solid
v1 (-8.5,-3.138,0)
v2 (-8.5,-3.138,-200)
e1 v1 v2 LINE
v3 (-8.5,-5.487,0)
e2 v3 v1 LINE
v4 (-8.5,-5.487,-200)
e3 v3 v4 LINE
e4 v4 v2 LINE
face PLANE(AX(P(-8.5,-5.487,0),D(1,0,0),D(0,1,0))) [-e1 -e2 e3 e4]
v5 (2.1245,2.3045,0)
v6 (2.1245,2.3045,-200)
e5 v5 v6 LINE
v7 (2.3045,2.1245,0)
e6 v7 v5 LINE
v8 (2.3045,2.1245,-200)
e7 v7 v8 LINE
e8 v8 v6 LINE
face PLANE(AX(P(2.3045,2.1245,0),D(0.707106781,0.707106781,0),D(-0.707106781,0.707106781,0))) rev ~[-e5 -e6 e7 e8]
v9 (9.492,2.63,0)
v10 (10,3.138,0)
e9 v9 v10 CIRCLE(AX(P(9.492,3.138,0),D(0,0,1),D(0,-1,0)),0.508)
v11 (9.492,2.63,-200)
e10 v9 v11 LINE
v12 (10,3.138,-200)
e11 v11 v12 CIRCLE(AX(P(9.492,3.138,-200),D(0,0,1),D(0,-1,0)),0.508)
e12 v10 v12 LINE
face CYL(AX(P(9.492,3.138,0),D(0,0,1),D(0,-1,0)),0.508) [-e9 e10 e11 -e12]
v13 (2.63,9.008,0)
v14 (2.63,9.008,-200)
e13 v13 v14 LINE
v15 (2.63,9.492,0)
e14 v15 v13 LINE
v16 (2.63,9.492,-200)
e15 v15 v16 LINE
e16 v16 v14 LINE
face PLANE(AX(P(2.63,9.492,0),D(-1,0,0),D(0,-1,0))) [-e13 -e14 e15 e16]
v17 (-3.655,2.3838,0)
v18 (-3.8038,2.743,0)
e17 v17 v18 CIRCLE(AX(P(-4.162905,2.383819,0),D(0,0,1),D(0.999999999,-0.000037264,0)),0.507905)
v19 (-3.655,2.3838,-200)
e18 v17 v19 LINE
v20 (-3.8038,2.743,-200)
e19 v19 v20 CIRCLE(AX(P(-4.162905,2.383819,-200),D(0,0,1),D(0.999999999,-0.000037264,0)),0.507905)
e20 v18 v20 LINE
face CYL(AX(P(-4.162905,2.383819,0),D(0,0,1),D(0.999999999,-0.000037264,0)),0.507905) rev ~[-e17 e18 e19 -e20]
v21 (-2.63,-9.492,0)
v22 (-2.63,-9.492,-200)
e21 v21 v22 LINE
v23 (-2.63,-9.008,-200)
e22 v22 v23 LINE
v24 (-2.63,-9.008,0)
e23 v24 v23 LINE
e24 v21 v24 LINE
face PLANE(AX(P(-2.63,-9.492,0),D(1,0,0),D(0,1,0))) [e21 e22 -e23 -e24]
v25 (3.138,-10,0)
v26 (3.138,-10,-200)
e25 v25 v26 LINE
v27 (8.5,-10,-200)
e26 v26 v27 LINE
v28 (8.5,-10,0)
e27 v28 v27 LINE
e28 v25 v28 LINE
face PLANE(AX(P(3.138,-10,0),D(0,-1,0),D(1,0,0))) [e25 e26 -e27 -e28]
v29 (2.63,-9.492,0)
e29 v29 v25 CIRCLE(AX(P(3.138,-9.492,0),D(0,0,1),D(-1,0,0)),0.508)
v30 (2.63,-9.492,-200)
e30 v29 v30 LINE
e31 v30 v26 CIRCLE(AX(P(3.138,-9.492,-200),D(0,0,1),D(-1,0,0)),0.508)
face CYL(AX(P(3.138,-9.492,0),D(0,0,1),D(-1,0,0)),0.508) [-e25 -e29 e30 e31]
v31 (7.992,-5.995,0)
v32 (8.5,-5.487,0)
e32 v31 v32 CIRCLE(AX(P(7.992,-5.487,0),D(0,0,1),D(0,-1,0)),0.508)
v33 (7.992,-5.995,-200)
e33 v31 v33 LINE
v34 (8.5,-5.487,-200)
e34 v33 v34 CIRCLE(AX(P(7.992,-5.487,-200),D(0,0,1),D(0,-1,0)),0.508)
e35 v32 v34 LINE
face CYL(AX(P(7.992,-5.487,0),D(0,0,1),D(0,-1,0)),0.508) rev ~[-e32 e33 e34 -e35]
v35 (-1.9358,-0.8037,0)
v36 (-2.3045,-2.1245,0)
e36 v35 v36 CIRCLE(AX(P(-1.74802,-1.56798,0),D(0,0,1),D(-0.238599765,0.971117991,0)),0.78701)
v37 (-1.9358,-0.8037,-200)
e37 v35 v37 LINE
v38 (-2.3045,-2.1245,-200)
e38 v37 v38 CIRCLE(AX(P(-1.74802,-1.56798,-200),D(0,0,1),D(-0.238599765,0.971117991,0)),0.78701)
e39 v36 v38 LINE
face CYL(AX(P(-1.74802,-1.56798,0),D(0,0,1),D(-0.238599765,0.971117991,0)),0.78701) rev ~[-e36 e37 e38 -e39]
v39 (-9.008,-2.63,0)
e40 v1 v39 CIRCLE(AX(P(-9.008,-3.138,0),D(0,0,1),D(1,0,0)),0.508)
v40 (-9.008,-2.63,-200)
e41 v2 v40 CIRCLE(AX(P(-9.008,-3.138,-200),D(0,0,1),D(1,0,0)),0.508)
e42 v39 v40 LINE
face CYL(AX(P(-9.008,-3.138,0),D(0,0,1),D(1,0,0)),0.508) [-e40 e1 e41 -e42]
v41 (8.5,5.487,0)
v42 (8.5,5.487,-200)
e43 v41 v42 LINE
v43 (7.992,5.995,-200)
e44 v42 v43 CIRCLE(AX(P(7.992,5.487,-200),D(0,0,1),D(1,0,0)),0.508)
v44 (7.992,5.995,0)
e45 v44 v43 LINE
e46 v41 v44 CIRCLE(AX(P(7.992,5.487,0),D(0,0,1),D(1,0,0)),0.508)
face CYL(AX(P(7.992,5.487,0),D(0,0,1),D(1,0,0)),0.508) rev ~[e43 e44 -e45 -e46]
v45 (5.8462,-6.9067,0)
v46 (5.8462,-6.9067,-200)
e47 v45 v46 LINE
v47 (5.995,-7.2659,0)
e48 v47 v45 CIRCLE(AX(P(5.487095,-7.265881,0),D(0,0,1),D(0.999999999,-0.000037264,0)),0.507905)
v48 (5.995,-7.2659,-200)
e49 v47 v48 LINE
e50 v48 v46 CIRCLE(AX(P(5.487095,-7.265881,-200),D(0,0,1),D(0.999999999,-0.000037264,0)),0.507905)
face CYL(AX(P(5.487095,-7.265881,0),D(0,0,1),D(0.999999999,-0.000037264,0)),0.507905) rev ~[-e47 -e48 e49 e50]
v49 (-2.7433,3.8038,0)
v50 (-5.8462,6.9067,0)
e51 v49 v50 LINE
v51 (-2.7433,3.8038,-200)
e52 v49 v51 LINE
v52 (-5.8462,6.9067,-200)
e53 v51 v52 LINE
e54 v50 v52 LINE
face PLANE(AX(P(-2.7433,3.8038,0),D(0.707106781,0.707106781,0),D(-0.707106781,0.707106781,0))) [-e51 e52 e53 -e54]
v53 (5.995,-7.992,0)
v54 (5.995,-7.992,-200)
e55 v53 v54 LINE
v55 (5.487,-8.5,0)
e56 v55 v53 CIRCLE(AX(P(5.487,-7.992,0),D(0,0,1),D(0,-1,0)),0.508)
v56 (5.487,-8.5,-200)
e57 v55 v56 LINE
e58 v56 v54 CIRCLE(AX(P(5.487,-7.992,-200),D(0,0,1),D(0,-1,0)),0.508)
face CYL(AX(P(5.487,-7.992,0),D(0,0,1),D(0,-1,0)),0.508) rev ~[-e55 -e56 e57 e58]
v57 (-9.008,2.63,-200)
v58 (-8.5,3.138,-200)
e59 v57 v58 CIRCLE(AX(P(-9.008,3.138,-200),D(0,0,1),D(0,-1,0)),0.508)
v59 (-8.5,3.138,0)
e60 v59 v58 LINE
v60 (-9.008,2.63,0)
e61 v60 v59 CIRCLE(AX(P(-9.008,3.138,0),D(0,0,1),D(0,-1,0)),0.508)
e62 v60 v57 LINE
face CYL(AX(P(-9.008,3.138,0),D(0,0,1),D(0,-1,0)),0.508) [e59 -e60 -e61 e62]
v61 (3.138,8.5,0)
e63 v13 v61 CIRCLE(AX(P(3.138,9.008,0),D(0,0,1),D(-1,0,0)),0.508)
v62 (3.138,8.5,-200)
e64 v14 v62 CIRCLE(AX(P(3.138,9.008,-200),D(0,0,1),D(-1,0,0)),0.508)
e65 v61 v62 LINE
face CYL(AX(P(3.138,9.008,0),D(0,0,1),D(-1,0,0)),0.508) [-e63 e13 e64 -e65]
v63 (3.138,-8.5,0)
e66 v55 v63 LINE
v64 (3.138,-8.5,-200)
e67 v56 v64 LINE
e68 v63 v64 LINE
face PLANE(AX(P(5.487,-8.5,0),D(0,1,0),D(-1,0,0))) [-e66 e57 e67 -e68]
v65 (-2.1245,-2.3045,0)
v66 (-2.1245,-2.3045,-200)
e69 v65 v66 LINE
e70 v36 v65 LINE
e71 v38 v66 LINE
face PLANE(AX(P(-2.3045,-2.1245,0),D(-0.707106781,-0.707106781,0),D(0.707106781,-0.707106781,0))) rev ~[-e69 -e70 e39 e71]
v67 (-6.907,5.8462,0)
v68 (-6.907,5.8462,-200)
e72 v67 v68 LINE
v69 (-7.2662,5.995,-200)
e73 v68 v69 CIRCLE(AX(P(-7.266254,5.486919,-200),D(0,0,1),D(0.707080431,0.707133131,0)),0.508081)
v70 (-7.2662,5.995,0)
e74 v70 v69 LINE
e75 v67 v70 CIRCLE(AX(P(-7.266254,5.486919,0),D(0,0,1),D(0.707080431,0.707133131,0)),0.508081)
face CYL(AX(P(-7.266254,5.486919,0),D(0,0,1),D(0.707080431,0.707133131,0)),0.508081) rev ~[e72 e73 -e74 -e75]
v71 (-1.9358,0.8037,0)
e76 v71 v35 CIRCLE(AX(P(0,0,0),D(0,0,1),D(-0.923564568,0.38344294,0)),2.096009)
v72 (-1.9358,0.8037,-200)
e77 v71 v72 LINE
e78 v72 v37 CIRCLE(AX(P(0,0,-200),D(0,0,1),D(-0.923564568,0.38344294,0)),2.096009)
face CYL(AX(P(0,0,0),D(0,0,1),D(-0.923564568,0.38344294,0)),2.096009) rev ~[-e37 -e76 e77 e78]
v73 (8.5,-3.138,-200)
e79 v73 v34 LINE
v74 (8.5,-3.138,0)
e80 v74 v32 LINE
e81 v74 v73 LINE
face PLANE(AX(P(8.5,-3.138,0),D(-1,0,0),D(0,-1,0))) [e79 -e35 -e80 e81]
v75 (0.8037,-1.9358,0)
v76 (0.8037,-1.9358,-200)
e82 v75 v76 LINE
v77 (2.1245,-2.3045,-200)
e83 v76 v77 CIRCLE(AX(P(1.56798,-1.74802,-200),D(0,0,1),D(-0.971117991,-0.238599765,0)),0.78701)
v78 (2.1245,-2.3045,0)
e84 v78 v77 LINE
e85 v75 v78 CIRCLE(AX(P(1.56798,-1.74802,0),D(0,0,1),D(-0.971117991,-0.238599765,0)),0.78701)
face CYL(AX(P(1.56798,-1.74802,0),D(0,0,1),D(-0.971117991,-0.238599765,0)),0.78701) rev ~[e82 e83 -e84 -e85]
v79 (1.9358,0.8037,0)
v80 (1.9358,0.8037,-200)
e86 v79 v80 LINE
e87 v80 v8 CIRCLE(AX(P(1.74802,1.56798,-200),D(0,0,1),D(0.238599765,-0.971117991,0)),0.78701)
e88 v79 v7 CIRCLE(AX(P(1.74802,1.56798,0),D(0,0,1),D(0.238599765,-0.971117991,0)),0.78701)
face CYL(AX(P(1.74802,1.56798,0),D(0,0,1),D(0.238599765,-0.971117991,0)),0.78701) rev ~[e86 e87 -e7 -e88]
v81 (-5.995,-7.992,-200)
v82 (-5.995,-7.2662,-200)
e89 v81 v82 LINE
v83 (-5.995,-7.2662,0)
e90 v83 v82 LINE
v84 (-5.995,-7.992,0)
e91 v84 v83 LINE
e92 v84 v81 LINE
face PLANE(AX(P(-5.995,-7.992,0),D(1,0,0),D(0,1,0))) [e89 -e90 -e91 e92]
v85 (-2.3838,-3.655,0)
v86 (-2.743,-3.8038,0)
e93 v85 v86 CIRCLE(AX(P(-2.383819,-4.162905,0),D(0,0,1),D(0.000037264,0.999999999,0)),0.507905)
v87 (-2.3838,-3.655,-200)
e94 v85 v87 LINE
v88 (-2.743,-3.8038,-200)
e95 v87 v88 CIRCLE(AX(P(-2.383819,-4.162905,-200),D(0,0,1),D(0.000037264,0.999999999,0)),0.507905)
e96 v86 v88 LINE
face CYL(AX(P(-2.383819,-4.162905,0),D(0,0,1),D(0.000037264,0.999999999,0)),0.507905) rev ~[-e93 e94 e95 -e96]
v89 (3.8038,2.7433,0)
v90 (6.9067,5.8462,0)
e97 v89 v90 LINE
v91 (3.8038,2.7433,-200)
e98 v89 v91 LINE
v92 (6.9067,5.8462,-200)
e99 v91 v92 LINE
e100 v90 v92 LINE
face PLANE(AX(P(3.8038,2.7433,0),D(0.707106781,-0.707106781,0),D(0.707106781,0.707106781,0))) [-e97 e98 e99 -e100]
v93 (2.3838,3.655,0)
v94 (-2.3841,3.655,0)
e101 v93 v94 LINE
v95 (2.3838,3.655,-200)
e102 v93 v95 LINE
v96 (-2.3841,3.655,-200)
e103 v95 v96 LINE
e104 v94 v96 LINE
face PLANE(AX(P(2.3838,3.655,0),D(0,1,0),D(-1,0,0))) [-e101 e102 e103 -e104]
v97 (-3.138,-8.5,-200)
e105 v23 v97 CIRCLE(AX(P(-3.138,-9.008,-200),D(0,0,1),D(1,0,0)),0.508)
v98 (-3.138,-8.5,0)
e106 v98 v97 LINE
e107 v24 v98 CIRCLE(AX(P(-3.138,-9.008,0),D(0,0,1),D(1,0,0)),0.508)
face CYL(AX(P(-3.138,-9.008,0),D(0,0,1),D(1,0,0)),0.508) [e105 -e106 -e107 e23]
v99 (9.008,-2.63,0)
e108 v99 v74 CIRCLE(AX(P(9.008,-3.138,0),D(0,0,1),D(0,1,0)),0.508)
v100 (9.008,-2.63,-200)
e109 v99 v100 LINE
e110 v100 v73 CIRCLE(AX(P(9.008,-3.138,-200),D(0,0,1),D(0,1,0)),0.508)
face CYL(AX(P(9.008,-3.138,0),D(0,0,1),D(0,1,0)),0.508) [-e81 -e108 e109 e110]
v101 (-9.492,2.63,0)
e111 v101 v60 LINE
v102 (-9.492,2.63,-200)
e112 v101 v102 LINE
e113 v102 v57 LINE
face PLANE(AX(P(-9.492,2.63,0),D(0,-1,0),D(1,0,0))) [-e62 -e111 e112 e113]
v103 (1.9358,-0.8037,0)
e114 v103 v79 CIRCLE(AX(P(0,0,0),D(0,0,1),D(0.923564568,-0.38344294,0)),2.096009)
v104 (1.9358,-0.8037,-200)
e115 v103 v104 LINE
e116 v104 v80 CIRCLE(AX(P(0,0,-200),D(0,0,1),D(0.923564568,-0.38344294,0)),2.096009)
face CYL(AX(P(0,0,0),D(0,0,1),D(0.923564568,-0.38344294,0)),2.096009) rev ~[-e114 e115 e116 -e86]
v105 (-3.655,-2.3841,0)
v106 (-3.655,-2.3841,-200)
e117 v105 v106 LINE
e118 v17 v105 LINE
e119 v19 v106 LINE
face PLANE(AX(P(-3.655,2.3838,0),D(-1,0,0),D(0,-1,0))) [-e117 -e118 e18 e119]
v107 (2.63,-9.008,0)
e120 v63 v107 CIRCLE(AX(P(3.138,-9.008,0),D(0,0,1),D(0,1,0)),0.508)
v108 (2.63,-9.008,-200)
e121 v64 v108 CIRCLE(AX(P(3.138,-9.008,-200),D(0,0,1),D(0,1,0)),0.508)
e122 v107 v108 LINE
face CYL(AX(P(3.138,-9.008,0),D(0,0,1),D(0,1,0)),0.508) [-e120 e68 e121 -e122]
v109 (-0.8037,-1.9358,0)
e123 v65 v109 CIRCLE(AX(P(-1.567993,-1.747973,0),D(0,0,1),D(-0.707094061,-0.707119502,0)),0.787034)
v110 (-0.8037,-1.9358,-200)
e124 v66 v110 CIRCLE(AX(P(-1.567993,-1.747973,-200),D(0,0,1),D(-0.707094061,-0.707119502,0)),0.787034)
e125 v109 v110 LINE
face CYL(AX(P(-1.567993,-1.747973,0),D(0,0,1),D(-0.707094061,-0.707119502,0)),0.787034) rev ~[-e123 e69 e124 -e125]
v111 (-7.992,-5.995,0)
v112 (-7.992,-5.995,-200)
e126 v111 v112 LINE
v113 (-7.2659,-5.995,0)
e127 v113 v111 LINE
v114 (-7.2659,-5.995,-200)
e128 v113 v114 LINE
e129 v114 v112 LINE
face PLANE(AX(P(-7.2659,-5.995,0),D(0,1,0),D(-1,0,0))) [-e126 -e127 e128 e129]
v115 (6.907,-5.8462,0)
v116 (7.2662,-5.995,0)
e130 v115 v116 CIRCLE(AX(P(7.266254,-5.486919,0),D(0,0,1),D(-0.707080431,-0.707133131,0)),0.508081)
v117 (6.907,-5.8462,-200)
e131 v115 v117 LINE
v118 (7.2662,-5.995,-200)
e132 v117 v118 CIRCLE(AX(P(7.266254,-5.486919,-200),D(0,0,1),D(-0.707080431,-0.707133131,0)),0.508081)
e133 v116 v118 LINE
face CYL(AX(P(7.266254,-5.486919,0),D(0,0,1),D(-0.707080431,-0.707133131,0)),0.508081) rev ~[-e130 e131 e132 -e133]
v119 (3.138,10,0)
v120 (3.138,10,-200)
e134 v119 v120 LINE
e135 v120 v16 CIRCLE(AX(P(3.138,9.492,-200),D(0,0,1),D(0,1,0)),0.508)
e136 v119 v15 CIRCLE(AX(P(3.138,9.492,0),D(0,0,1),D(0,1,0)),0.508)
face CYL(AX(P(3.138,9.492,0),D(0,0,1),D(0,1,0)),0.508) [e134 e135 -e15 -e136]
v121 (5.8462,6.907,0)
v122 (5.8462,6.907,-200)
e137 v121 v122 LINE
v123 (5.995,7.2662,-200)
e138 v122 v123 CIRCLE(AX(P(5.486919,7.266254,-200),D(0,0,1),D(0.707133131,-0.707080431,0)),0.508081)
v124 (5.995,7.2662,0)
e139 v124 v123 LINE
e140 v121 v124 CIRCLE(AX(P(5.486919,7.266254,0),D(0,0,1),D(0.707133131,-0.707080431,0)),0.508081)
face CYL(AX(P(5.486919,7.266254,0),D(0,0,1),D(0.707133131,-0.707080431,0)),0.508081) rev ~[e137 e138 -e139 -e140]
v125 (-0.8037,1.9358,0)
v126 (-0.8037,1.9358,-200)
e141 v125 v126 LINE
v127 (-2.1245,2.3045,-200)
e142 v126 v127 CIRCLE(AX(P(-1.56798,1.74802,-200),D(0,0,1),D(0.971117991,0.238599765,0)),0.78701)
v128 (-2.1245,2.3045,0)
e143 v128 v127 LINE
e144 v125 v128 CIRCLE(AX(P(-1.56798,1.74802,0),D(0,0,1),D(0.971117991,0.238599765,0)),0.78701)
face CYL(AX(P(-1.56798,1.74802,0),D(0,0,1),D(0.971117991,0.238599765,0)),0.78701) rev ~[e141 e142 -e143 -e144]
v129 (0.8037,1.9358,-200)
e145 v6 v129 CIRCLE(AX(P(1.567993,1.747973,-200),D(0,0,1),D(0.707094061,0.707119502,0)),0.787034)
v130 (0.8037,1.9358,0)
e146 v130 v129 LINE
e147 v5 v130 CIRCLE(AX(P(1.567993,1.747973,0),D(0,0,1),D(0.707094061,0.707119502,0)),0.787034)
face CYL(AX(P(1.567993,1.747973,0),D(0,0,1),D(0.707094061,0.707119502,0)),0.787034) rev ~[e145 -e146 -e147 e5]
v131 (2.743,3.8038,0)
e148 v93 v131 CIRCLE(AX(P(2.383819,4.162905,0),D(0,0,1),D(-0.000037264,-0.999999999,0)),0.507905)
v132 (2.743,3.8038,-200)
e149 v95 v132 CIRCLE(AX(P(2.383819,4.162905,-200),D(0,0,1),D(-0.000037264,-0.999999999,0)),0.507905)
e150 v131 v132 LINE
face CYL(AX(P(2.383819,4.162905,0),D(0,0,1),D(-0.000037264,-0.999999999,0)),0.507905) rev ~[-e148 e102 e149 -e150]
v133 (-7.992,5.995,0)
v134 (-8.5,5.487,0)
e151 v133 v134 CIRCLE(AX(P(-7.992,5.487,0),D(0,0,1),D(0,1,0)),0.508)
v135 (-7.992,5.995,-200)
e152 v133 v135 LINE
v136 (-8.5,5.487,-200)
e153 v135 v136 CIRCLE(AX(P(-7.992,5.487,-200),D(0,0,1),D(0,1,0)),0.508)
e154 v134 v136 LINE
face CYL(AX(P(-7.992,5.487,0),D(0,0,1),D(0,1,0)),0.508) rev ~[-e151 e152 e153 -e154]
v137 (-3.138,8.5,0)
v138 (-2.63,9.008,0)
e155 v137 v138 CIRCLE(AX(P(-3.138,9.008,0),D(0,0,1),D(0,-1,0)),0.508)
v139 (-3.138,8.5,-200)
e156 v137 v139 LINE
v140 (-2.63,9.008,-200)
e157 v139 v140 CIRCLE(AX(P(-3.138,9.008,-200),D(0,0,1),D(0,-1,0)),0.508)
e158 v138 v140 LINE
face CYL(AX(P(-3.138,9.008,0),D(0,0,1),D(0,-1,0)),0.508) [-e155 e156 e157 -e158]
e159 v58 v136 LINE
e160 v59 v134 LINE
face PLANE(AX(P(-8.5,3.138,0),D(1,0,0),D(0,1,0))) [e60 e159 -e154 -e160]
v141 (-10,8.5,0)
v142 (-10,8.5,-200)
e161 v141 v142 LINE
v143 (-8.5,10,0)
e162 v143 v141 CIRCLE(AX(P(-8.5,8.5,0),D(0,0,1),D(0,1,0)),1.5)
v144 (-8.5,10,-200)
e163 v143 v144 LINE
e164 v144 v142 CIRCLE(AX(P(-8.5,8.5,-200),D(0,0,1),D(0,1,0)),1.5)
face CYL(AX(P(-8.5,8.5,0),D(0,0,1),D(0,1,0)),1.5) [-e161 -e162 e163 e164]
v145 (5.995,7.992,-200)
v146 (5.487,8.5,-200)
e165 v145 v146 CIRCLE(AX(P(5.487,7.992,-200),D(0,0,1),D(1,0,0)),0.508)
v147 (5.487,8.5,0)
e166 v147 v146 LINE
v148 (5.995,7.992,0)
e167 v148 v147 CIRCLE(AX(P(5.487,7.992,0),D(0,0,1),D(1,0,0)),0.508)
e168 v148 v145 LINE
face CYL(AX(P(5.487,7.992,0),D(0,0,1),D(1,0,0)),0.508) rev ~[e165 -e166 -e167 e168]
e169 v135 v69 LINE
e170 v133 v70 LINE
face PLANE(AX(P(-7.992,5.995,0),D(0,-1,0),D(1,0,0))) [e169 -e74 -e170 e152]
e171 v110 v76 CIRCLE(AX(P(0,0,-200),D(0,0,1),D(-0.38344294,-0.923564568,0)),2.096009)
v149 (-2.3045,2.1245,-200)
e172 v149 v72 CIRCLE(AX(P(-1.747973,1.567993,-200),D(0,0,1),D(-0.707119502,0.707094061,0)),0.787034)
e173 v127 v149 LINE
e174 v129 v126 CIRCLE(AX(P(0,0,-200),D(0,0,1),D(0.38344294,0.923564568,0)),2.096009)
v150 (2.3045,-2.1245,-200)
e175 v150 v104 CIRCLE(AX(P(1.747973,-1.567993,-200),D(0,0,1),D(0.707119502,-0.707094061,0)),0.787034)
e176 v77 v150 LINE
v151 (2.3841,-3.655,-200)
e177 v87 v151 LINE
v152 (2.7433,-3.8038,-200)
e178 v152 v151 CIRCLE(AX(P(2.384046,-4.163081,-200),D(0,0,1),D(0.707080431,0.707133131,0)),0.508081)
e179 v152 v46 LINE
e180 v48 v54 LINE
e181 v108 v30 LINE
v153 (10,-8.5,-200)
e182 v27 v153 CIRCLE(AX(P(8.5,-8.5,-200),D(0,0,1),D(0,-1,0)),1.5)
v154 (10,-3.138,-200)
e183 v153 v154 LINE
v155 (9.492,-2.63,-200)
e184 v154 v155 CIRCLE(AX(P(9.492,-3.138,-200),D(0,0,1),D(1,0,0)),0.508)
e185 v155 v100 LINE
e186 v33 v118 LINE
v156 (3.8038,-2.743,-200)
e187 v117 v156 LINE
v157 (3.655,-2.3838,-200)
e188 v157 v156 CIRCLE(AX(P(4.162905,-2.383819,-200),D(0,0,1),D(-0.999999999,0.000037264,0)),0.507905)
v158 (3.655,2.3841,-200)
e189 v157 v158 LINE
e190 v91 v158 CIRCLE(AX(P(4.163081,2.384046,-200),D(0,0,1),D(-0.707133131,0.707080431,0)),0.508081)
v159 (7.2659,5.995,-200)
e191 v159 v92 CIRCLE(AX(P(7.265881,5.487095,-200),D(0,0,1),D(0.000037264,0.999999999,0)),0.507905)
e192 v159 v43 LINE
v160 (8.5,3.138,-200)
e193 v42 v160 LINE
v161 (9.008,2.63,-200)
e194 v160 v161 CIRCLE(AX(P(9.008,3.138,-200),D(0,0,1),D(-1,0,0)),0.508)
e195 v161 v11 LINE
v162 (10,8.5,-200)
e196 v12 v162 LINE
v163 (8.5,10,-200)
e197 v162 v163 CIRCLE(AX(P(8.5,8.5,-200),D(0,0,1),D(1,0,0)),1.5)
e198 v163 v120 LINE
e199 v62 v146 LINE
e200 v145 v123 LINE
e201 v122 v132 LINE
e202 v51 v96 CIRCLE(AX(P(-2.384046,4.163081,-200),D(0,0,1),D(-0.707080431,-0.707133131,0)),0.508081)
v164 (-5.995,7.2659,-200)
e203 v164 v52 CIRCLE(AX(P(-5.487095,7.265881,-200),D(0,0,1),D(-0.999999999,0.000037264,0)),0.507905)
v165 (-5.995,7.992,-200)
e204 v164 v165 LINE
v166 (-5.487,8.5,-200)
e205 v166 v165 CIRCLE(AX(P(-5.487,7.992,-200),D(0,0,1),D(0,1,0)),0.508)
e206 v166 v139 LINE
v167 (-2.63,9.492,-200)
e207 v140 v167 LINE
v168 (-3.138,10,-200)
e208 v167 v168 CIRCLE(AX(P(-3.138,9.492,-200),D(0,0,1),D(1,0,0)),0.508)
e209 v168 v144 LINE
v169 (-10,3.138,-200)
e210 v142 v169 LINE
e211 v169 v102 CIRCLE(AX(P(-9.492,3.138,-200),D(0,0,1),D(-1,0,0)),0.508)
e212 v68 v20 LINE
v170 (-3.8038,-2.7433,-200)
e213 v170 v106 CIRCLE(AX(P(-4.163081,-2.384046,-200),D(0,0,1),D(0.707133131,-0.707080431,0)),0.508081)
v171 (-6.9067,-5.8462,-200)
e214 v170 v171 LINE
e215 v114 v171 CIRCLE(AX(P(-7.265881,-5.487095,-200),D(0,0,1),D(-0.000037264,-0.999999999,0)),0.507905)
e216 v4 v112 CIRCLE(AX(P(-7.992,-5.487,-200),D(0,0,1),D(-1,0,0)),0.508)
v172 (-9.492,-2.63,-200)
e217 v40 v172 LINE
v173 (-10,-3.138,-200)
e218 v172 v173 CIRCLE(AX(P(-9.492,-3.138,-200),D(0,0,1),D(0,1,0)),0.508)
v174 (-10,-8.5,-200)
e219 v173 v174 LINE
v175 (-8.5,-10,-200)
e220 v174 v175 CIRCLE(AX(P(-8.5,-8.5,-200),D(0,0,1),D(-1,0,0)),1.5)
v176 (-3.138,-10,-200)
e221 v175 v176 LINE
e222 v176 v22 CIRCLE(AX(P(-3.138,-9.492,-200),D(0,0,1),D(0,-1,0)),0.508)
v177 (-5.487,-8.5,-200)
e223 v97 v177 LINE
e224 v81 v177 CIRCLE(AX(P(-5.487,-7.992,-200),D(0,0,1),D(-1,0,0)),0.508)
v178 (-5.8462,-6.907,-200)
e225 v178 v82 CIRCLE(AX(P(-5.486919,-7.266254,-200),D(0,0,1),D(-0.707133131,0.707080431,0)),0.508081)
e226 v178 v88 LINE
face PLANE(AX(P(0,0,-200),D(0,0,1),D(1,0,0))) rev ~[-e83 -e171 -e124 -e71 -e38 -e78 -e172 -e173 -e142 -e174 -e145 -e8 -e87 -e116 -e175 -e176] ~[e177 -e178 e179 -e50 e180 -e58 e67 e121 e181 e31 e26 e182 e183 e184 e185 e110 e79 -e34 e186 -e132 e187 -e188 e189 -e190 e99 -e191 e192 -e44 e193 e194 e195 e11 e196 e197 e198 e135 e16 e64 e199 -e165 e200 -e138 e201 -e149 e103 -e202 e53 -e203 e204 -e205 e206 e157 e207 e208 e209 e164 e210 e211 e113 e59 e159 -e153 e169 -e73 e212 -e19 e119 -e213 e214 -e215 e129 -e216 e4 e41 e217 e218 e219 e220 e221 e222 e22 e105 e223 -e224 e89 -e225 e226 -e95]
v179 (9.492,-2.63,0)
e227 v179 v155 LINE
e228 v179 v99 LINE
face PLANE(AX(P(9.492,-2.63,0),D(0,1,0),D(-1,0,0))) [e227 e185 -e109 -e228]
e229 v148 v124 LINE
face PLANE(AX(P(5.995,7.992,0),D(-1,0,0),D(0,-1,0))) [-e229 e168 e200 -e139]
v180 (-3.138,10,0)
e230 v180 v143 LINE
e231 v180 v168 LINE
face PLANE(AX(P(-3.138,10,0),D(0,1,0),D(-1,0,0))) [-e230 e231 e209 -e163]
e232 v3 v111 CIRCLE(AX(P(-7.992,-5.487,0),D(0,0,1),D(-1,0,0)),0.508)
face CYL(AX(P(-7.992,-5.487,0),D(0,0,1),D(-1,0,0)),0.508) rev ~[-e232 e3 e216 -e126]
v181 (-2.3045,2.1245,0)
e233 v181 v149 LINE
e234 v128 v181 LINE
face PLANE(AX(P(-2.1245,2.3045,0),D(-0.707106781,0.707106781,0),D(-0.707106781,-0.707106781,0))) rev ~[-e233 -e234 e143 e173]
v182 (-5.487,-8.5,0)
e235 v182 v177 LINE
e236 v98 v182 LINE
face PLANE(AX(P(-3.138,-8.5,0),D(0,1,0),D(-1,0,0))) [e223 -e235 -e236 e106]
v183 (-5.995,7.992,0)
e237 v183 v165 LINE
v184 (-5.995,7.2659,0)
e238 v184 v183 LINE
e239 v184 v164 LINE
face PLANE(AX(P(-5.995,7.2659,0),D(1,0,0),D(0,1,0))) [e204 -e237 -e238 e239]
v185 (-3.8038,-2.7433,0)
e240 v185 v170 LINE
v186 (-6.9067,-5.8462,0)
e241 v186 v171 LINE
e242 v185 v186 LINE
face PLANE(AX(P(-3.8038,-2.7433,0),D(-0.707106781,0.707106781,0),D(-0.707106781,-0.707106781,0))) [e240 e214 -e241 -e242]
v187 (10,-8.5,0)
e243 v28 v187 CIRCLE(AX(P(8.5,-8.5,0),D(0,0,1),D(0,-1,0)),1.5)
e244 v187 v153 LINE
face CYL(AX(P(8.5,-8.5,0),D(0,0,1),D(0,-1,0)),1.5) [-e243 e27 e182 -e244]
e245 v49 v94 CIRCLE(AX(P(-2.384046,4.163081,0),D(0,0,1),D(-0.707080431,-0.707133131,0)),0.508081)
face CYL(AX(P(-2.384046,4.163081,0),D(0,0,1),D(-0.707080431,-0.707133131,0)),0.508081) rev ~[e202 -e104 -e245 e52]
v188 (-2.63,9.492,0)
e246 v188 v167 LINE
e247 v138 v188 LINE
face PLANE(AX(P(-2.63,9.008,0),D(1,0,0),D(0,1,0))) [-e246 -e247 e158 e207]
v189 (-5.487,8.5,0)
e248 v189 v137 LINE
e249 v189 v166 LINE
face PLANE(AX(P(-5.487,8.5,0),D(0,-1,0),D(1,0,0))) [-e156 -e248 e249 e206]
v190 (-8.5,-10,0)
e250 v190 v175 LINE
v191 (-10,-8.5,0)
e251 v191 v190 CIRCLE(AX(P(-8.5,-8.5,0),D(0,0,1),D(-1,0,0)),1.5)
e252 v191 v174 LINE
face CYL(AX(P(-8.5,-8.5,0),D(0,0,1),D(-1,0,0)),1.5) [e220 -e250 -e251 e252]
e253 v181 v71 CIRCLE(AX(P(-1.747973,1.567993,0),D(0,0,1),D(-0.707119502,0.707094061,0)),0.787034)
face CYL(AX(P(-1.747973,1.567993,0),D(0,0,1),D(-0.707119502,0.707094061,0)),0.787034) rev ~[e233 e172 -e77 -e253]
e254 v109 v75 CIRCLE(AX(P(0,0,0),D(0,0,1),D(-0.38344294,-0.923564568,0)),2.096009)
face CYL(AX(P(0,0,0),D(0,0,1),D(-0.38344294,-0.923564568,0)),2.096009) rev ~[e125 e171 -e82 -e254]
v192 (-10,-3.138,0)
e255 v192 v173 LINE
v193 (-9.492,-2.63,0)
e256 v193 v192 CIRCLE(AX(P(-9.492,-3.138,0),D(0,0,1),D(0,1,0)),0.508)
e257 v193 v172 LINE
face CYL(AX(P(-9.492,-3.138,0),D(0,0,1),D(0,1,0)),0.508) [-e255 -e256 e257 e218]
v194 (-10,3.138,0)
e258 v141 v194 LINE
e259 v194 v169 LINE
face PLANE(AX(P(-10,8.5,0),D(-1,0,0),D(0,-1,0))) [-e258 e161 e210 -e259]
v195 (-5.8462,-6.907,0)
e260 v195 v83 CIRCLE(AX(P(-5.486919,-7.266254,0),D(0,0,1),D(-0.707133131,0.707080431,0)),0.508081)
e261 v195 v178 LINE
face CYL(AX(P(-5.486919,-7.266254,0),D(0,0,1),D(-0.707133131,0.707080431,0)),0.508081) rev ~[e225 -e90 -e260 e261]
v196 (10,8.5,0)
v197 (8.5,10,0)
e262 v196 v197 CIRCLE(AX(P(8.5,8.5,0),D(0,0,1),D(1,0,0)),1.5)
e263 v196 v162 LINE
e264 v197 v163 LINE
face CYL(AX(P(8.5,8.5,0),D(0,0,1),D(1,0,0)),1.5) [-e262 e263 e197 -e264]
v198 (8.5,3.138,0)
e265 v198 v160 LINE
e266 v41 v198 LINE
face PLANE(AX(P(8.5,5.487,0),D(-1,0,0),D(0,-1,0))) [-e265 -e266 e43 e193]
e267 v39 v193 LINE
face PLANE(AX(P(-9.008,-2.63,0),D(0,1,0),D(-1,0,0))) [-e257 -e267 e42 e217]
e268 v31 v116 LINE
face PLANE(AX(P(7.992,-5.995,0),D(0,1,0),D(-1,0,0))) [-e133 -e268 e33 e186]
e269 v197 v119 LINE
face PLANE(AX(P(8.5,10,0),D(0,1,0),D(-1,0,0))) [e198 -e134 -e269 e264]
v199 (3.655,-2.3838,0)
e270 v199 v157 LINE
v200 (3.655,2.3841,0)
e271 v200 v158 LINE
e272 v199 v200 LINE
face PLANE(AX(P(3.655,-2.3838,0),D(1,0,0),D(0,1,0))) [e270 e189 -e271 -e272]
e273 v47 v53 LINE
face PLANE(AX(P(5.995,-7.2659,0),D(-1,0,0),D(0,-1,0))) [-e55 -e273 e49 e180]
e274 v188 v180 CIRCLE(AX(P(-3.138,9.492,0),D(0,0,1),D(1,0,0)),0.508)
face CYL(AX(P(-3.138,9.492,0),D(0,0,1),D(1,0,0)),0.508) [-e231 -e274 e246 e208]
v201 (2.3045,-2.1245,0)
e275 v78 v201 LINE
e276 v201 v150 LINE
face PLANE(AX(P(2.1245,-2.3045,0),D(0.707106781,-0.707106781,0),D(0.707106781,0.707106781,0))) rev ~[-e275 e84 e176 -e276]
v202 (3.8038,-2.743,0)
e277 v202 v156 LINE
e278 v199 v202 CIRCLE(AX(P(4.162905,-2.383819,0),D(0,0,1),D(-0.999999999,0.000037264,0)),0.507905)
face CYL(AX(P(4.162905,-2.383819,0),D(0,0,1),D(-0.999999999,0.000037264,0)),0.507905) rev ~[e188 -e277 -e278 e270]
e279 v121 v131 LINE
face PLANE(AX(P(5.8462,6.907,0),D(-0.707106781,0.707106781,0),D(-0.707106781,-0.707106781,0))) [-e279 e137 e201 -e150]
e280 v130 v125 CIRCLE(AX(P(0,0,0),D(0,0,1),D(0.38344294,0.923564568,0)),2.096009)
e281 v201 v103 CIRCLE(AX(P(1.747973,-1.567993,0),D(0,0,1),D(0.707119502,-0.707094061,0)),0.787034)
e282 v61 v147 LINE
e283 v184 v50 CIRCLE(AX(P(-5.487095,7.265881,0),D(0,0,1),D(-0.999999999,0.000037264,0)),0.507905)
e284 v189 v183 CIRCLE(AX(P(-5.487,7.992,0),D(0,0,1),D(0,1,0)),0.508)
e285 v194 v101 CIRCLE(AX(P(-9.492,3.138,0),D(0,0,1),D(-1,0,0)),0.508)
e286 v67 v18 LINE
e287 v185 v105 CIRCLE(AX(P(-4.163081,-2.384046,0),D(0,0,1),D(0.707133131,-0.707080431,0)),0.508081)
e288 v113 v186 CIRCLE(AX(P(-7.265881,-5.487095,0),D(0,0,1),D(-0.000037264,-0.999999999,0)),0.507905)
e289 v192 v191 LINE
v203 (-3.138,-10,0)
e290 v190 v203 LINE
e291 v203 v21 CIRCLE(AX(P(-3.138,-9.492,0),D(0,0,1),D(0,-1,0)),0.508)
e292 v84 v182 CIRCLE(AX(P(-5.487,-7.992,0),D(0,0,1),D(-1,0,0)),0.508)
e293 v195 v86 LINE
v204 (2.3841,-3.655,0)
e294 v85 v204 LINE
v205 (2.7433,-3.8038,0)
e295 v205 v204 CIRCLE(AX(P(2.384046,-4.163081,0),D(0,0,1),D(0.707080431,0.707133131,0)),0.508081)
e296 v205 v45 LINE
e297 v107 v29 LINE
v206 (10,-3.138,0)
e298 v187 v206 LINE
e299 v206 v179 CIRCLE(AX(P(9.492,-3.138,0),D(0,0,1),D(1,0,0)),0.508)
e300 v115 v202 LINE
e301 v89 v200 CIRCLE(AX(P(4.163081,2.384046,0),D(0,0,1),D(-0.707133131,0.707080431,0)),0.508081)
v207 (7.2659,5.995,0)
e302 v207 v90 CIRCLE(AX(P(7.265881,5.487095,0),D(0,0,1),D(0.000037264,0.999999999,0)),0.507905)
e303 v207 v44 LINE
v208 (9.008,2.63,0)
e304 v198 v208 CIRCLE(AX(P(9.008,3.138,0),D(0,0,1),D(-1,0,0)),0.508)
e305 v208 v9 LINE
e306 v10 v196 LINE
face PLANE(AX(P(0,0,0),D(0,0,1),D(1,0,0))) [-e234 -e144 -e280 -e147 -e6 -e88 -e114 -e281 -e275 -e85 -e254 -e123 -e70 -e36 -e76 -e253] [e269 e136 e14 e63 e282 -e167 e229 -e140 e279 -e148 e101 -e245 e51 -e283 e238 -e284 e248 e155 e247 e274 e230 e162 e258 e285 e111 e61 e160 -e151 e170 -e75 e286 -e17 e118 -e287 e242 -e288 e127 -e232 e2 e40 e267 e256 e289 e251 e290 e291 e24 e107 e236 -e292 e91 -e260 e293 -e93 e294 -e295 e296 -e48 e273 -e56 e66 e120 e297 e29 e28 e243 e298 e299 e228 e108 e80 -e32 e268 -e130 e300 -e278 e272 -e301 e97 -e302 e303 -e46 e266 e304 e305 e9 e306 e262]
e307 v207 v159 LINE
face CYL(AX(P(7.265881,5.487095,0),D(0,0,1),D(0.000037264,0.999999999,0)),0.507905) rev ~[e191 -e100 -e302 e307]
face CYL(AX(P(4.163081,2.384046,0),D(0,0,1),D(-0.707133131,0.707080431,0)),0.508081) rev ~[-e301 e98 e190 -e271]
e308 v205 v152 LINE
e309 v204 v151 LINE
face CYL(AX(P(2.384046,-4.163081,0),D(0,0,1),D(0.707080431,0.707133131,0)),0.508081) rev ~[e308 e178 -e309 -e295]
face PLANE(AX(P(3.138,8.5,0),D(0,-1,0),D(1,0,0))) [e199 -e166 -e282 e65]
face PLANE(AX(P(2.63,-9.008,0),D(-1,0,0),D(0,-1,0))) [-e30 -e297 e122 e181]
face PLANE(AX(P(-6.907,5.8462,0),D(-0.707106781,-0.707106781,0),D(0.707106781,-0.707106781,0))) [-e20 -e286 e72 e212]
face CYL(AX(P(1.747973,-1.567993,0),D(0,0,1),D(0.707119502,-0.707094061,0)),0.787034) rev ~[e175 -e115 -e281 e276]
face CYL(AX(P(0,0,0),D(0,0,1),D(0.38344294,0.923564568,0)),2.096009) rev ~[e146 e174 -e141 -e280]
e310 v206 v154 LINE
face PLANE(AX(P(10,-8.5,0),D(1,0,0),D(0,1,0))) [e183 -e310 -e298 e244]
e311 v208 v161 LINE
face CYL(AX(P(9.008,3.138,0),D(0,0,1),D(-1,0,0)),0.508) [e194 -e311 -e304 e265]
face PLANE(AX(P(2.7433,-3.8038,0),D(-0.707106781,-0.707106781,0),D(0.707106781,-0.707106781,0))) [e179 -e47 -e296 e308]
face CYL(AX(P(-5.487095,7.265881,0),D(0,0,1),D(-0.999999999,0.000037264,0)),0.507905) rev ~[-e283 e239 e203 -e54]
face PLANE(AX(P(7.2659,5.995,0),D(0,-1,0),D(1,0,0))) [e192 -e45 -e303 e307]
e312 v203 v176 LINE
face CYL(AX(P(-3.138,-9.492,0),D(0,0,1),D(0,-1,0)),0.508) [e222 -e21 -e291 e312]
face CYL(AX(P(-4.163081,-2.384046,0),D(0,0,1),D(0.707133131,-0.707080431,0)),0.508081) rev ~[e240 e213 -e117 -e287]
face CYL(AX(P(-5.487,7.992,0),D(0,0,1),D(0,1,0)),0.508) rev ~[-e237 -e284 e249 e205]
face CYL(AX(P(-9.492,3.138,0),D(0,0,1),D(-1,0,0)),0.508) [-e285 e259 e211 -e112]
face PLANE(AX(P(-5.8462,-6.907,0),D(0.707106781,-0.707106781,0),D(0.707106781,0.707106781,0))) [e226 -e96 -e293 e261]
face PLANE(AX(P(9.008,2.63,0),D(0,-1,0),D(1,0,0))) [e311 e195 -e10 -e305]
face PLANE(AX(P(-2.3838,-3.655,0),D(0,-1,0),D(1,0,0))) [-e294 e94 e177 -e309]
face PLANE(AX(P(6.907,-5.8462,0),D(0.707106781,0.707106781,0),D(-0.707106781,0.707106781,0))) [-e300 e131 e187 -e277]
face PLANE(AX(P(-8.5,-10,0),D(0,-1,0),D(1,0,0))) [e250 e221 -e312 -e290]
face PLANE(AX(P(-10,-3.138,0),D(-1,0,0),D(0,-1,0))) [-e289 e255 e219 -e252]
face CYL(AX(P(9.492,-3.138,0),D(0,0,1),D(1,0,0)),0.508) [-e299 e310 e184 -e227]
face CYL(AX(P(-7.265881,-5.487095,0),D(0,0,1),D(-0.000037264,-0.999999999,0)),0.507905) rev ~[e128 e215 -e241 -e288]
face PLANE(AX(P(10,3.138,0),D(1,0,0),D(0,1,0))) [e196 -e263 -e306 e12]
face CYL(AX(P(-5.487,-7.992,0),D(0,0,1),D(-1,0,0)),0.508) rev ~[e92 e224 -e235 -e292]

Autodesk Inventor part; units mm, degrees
ref_plane "YZ Plane" through (0, 0, 0) normal (1, 0, 0) x (0, 1, 0)
ref_plane "XZ Plane" through (0, 0, 0) normal (0, 1, 0) x (-1, 0, 0)
ref_plane "XY Plane" through (0, 0, 0) normal (0, 0, 1) x (1, 0, 0)
sketch "Sketch_1" plane through (0, 0, 0) normal (0, 0, 1) x (1, 0, 0)
  arc A0 (-10, -8.5) -> (-8.5, -10) centre (-8.5, -8.5) ccw
  line L0 (-8.5, -10) -> (-3.138, -10)
  arc A1 (-3.138, -10) -> (-2.63, -9.492) centre (-3.138, -9.492) ccw
  line L1 (-2.63, -9.492) -> (-2.63, -9.008)
  arc A2 (-2.63, -9.008) -> (-3.138, -8.5) centre (-3.138, -9.008) ccw
  line L2 (-3.138, -8.5) -> (-5.487, -8.5)
  arc A3 (-5.995, -7.992) -> (-5.487, -8.5) centre (-5.487, -7.992) ccw
  line L3 (-5.995, -7.992) -> (-5.995, -7.2662)
  arc A4 (-5.8462, -6.907) -> (-5.995, -7.2662) centre (-5.487, -7.2662) ccw
  line L4 (-5.8462, -6.907) -> (-2.743, -3.8038)
  arc A5 (-2.3838, -3.655) -> (-2.743, -3.8038) centre (-2.3838, -4.163) ccw
  line L5 (-2.3838, -3.655) -> (2.3841, -3.655)
  arc A6 (2.7433, -3.8038) -> (2.3841, -3.655) centre (2.3841, -4.163) ccw
  line L6 (2.7433, -3.8038) -> (5.8462, -6.9067)
  arc A7 (5.995, -7.2659) -> (5.8462, -6.9067) centre (5.487, -7.2659) ccw
  line L7 (5.995, -7.2659) -> (5.995, -7.992)
  arc A8 (5.487, -8.5) -> (5.995, -7.992) centre (5.487, -7.992) ccw
  line L8 (5.487, -8.5) -> (3.138, -8.5)
  arc A9 (3.138, -8.5) -> (2.63, -9.008) centre (3.138, -9.008) ccw
  line L9 (2.63, -9.008) -> (2.63, -9.492)
  arc A10 (2.63, -9.492) -> (3.138, -10) centre (3.138, -9.492) ccw
  line L10 (3.138, -10) -> (8.5, -10)
  arc A11 (8.5, -10) -> (10, -8.5) centre (8.5, -8.5) ccw
  line L11 (10, -8.5) -> (10, -3.138)
  arc A12 (10, -3.138) -> (9.492, -2.63) centre (9.492, -3.138) ccw
  line L12 (9.492, -2.63) -> (9.008, -2.63)
  arc A13 (9.008, -2.63) -> (8.5, -3.138) centre (9.008, -3.138) ccw
  line L13 (8.5, -3.138) -> (8.5, -5.487)
  arc A14 (7.992, -5.995) -> (8.5, -5.487) centre (7.992, -5.487) ccw
  line L14 (7.992, -5.995) -> (7.2662, -5.995)
  arc A15 (6.907, -5.8462) -> (7.2662, -5.995) centre (7.2662, -5.487) ccw
  line L15 (6.907, -5.8462) -> (3.8038, -2.743)
  arc A16 (3.655, -2.3838) -> (3.8038, -2.743) centre (4.163, -2.3838) ccw
  line L16 (3.655, -2.3838) -> (3.655, 2.3841)
  arc A17 (3.8038, 2.7433) -> (3.655, 2.3841) centre (4.163, 2.3841) ccw
  line L17 (3.8038, 2.7433) -> (6.9067, 5.8462)
  arc A18 (7.2659, 5.995) -> (6.9067, 5.8462) centre (7.2659, 5.487) ccw
  line L18 (7.2659, 5.995) -> (7.992, 5.995)
  arc A19 (8.5, 5.487) -> (7.992, 5.995) centre (7.992, 5.487) ccw
  line L19 (8.5, 5.487) -> (8.5, 3.138)
  arc A20 (8.5, 3.138) -> (9.008, 2.63) centre (9.008, 3.138) ccw
  line L20 (9.008, 2.63) -> (9.492, 2.63)
  arc A21 (9.492, 2.63) -> (10, 3.138) centre (9.492, 3.138) ccw
  line L21 (10, 3.138) -> (10, 8.5)
  arc A22 (10, 8.5) -> (8.5, 10) centre (8.5, 8.5) ccw
  line L22 (8.5, 10) -> (3.138, 10)
  arc A23 (3.138, 10) -> (2.63, 9.492) centre (3.138, 9.492) ccw
  line L23 (2.63, 9.492) -> (2.63, 9.008)
  arc A24 (2.63, 9.008) -> (3.138, 8.5) centre (3.138, 9.008) ccw
  line L24 (3.138, 8.5) -> (5.487, 8.5)
  arc A25 (5.995, 7.992) -> (5.487, 8.5) centre (5.487, 7.992) ccw
  line L25 (5.995, 7.992) -> (5.995, 7.2662)
  arc A26 (5.8462, 6.907) -> (5.995, 7.2662) centre (5.487, 7.2662) ccw
  line L26 (5.8462, 6.907) -> (2.743, 3.8038)
  arc A27 (2.3838, 3.655) -> (2.743, 3.8038) centre (2.3838, 4.163) ccw
  line L27 (2.3838, 3.655) -> (-2.3841, 3.655)
  arc A28 (-2.7433, 3.8038) -> (-2.3841, 3.655) centre (-2.3841, 4.163) ccw
  line L28 (-2.7433, 3.8038) -> (-5.8462, 6.9067)
  arc A29 (-5.995, 7.2659) -> (-5.8462, 6.9067) centre (-5.487, 7.2659) ccw
  line L29 (-5.995, 7.2659) -> (-5.995, 7.992)
  arc A30 (-5.487, 8.5) -> (-5.995, 7.992) centre (-5.487, 7.992) ccw
  line L30 (-5.487, 8.5) -> (-3.138, 8.5)
  arc A31 (-3.138, 8.5) -> (-2.63, 9.008) centre (-3.138, 9.008) ccw
  line L31 (-2.63, 9.008) -> (-2.63, 9.492)
  arc A32 (-2.63, 9.492) -> (-3.138, 10) centre (-3.138, 9.492) ccw
  line L32 (-3.138, 10) -> (-8.5, 10)
  arc A33 (-8.5, 10) -> (-10, 8.5) centre (-8.5, 8.5) ccw
  line L33 (-10, 8.5) -> (-10, 3.138)
  arc A34 (-10, 3.138) -> (-9.492, 2.63) centre (-9.492, 3.138) ccw
  line L34 (-9.492, 2.63) -> (-9.008, 2.63)
  arc A35 (-9.008, 2.63) -> (-8.5, 3.138) centre (-9.008, 3.138) ccw
  line L35 (-8.5, 3.138) -> (-8.5, 5.487)
  arc A36 (-7.992, 5.995) -> (-8.5, 5.487) centre (-7.992, 5.487) ccw
  line L36 (-7.992, 5.995) -> (-7.2662, 5.995)
  arc A37 (-6.907, 5.8462) -> (-7.2662, 5.995) centre (-7.2662, 5.487) ccw
  line L37 (-6.907, 5.8462) -> (-3.8038, 2.743)
  arc A38 (-3.655, 2.3838) -> (-3.8038, 2.743) centre (-4.163, 2.3838) ccw
  line L38 (-3.655, 2.3838) -> (-3.655, -2.3841)
  arc A39 (-3.8038, -2.7433) -> (-3.655, -2.3841) centre (-4.163, -2.3841) ccw
  line L39 (-3.8038, -2.7433) -> (-6.9067, -5.8462)
  arc A40 (-7.2659, -5.995) -> (-6.9067, -5.8462) centre (-7.2659, -5.487) ccw
  line L40 (-7.2659, -5.995) -> (-7.992, -5.995)
  arc A41 (-8.5, -5.487) -> (-7.992, -5.995) centre (-7.992, -5.487) ccw
  line L41 (-8.5, -5.487) -> (-8.5, -3.138)
  arc A42 (-8.5, -3.138) -> (-9.008, -2.63) centre (-9.008, -3.138) ccw
  line L42 (-9.008, -2.63) -> (-9.492, -2.63)
  arc A43 (-9.492, -2.63) -> (-10, -3.138) centre (-9.492, -3.138) ccw
  line L43 (-10, -3.138) -> (-10, -8.5)
  arc A44 (-1.9358, -0.8037) -> (-2.3045, -2.1245) centre (-1.748, -1.568) ccw
  line L44 (-2.3045, -2.1245) -> (-2.1245, -2.3045)
  arc A45 (-2.1245, -2.3045) -> (-0.8037, -1.9358) centre (-1.568, -1.748) ccw
  arc A46 (-0.8037, -1.9358) -> (0.8037, -1.9358) centre (0, 0) ccw
  arc A47 (0.8037, -1.9358) -> (2.1245, -2.3045) centre (1.568, -1.748) ccw
  line L45 (2.1245, -2.3045) -> (2.3045, -2.1245)
  arc A48 (2.3045, -2.1245) -> (1.9358, -0.8037) centre (1.748, -1.568) ccw
  arc A49 (1.9358, -0.8037) -> (1.9358, 0.8037) centre (0, 0) ccw
  arc A50 (1.9358, 0.8037) -> (2.3045, 2.1245) centre (1.748, 1.568) ccw
  line L46 (2.3045, 2.1245) -> (2.1245, 2.3045)
  arc A51 (2.1245, 2.3045) -> (0.8037, 1.9358) centre (1.568, 1.748) ccw
  arc A52 (0.8037, 1.9358) -> (-0.8037, 1.9358) centre (0, 0) ccw
  arc A53 (-0.8037, 1.9358) -> (-2.1245, 2.3045) centre (-1.568, 1.748) ccw
  line L47 (-2.1245, 2.3045) -> (-2.3045, 2.1245)
  arc A54 (-2.3045, 2.1245) -> (-1.9358, 0.8037) centre (-1.748, 1.568) ccw
  arc A55 (-1.9358, 0.8037) -> (-1.9358, -0.8037) centre (0, 0) ccw
extrude "Extrusion1" add sketch "Sketch_1" against normal blind 200
properties part number "20-2020-200-CL"
